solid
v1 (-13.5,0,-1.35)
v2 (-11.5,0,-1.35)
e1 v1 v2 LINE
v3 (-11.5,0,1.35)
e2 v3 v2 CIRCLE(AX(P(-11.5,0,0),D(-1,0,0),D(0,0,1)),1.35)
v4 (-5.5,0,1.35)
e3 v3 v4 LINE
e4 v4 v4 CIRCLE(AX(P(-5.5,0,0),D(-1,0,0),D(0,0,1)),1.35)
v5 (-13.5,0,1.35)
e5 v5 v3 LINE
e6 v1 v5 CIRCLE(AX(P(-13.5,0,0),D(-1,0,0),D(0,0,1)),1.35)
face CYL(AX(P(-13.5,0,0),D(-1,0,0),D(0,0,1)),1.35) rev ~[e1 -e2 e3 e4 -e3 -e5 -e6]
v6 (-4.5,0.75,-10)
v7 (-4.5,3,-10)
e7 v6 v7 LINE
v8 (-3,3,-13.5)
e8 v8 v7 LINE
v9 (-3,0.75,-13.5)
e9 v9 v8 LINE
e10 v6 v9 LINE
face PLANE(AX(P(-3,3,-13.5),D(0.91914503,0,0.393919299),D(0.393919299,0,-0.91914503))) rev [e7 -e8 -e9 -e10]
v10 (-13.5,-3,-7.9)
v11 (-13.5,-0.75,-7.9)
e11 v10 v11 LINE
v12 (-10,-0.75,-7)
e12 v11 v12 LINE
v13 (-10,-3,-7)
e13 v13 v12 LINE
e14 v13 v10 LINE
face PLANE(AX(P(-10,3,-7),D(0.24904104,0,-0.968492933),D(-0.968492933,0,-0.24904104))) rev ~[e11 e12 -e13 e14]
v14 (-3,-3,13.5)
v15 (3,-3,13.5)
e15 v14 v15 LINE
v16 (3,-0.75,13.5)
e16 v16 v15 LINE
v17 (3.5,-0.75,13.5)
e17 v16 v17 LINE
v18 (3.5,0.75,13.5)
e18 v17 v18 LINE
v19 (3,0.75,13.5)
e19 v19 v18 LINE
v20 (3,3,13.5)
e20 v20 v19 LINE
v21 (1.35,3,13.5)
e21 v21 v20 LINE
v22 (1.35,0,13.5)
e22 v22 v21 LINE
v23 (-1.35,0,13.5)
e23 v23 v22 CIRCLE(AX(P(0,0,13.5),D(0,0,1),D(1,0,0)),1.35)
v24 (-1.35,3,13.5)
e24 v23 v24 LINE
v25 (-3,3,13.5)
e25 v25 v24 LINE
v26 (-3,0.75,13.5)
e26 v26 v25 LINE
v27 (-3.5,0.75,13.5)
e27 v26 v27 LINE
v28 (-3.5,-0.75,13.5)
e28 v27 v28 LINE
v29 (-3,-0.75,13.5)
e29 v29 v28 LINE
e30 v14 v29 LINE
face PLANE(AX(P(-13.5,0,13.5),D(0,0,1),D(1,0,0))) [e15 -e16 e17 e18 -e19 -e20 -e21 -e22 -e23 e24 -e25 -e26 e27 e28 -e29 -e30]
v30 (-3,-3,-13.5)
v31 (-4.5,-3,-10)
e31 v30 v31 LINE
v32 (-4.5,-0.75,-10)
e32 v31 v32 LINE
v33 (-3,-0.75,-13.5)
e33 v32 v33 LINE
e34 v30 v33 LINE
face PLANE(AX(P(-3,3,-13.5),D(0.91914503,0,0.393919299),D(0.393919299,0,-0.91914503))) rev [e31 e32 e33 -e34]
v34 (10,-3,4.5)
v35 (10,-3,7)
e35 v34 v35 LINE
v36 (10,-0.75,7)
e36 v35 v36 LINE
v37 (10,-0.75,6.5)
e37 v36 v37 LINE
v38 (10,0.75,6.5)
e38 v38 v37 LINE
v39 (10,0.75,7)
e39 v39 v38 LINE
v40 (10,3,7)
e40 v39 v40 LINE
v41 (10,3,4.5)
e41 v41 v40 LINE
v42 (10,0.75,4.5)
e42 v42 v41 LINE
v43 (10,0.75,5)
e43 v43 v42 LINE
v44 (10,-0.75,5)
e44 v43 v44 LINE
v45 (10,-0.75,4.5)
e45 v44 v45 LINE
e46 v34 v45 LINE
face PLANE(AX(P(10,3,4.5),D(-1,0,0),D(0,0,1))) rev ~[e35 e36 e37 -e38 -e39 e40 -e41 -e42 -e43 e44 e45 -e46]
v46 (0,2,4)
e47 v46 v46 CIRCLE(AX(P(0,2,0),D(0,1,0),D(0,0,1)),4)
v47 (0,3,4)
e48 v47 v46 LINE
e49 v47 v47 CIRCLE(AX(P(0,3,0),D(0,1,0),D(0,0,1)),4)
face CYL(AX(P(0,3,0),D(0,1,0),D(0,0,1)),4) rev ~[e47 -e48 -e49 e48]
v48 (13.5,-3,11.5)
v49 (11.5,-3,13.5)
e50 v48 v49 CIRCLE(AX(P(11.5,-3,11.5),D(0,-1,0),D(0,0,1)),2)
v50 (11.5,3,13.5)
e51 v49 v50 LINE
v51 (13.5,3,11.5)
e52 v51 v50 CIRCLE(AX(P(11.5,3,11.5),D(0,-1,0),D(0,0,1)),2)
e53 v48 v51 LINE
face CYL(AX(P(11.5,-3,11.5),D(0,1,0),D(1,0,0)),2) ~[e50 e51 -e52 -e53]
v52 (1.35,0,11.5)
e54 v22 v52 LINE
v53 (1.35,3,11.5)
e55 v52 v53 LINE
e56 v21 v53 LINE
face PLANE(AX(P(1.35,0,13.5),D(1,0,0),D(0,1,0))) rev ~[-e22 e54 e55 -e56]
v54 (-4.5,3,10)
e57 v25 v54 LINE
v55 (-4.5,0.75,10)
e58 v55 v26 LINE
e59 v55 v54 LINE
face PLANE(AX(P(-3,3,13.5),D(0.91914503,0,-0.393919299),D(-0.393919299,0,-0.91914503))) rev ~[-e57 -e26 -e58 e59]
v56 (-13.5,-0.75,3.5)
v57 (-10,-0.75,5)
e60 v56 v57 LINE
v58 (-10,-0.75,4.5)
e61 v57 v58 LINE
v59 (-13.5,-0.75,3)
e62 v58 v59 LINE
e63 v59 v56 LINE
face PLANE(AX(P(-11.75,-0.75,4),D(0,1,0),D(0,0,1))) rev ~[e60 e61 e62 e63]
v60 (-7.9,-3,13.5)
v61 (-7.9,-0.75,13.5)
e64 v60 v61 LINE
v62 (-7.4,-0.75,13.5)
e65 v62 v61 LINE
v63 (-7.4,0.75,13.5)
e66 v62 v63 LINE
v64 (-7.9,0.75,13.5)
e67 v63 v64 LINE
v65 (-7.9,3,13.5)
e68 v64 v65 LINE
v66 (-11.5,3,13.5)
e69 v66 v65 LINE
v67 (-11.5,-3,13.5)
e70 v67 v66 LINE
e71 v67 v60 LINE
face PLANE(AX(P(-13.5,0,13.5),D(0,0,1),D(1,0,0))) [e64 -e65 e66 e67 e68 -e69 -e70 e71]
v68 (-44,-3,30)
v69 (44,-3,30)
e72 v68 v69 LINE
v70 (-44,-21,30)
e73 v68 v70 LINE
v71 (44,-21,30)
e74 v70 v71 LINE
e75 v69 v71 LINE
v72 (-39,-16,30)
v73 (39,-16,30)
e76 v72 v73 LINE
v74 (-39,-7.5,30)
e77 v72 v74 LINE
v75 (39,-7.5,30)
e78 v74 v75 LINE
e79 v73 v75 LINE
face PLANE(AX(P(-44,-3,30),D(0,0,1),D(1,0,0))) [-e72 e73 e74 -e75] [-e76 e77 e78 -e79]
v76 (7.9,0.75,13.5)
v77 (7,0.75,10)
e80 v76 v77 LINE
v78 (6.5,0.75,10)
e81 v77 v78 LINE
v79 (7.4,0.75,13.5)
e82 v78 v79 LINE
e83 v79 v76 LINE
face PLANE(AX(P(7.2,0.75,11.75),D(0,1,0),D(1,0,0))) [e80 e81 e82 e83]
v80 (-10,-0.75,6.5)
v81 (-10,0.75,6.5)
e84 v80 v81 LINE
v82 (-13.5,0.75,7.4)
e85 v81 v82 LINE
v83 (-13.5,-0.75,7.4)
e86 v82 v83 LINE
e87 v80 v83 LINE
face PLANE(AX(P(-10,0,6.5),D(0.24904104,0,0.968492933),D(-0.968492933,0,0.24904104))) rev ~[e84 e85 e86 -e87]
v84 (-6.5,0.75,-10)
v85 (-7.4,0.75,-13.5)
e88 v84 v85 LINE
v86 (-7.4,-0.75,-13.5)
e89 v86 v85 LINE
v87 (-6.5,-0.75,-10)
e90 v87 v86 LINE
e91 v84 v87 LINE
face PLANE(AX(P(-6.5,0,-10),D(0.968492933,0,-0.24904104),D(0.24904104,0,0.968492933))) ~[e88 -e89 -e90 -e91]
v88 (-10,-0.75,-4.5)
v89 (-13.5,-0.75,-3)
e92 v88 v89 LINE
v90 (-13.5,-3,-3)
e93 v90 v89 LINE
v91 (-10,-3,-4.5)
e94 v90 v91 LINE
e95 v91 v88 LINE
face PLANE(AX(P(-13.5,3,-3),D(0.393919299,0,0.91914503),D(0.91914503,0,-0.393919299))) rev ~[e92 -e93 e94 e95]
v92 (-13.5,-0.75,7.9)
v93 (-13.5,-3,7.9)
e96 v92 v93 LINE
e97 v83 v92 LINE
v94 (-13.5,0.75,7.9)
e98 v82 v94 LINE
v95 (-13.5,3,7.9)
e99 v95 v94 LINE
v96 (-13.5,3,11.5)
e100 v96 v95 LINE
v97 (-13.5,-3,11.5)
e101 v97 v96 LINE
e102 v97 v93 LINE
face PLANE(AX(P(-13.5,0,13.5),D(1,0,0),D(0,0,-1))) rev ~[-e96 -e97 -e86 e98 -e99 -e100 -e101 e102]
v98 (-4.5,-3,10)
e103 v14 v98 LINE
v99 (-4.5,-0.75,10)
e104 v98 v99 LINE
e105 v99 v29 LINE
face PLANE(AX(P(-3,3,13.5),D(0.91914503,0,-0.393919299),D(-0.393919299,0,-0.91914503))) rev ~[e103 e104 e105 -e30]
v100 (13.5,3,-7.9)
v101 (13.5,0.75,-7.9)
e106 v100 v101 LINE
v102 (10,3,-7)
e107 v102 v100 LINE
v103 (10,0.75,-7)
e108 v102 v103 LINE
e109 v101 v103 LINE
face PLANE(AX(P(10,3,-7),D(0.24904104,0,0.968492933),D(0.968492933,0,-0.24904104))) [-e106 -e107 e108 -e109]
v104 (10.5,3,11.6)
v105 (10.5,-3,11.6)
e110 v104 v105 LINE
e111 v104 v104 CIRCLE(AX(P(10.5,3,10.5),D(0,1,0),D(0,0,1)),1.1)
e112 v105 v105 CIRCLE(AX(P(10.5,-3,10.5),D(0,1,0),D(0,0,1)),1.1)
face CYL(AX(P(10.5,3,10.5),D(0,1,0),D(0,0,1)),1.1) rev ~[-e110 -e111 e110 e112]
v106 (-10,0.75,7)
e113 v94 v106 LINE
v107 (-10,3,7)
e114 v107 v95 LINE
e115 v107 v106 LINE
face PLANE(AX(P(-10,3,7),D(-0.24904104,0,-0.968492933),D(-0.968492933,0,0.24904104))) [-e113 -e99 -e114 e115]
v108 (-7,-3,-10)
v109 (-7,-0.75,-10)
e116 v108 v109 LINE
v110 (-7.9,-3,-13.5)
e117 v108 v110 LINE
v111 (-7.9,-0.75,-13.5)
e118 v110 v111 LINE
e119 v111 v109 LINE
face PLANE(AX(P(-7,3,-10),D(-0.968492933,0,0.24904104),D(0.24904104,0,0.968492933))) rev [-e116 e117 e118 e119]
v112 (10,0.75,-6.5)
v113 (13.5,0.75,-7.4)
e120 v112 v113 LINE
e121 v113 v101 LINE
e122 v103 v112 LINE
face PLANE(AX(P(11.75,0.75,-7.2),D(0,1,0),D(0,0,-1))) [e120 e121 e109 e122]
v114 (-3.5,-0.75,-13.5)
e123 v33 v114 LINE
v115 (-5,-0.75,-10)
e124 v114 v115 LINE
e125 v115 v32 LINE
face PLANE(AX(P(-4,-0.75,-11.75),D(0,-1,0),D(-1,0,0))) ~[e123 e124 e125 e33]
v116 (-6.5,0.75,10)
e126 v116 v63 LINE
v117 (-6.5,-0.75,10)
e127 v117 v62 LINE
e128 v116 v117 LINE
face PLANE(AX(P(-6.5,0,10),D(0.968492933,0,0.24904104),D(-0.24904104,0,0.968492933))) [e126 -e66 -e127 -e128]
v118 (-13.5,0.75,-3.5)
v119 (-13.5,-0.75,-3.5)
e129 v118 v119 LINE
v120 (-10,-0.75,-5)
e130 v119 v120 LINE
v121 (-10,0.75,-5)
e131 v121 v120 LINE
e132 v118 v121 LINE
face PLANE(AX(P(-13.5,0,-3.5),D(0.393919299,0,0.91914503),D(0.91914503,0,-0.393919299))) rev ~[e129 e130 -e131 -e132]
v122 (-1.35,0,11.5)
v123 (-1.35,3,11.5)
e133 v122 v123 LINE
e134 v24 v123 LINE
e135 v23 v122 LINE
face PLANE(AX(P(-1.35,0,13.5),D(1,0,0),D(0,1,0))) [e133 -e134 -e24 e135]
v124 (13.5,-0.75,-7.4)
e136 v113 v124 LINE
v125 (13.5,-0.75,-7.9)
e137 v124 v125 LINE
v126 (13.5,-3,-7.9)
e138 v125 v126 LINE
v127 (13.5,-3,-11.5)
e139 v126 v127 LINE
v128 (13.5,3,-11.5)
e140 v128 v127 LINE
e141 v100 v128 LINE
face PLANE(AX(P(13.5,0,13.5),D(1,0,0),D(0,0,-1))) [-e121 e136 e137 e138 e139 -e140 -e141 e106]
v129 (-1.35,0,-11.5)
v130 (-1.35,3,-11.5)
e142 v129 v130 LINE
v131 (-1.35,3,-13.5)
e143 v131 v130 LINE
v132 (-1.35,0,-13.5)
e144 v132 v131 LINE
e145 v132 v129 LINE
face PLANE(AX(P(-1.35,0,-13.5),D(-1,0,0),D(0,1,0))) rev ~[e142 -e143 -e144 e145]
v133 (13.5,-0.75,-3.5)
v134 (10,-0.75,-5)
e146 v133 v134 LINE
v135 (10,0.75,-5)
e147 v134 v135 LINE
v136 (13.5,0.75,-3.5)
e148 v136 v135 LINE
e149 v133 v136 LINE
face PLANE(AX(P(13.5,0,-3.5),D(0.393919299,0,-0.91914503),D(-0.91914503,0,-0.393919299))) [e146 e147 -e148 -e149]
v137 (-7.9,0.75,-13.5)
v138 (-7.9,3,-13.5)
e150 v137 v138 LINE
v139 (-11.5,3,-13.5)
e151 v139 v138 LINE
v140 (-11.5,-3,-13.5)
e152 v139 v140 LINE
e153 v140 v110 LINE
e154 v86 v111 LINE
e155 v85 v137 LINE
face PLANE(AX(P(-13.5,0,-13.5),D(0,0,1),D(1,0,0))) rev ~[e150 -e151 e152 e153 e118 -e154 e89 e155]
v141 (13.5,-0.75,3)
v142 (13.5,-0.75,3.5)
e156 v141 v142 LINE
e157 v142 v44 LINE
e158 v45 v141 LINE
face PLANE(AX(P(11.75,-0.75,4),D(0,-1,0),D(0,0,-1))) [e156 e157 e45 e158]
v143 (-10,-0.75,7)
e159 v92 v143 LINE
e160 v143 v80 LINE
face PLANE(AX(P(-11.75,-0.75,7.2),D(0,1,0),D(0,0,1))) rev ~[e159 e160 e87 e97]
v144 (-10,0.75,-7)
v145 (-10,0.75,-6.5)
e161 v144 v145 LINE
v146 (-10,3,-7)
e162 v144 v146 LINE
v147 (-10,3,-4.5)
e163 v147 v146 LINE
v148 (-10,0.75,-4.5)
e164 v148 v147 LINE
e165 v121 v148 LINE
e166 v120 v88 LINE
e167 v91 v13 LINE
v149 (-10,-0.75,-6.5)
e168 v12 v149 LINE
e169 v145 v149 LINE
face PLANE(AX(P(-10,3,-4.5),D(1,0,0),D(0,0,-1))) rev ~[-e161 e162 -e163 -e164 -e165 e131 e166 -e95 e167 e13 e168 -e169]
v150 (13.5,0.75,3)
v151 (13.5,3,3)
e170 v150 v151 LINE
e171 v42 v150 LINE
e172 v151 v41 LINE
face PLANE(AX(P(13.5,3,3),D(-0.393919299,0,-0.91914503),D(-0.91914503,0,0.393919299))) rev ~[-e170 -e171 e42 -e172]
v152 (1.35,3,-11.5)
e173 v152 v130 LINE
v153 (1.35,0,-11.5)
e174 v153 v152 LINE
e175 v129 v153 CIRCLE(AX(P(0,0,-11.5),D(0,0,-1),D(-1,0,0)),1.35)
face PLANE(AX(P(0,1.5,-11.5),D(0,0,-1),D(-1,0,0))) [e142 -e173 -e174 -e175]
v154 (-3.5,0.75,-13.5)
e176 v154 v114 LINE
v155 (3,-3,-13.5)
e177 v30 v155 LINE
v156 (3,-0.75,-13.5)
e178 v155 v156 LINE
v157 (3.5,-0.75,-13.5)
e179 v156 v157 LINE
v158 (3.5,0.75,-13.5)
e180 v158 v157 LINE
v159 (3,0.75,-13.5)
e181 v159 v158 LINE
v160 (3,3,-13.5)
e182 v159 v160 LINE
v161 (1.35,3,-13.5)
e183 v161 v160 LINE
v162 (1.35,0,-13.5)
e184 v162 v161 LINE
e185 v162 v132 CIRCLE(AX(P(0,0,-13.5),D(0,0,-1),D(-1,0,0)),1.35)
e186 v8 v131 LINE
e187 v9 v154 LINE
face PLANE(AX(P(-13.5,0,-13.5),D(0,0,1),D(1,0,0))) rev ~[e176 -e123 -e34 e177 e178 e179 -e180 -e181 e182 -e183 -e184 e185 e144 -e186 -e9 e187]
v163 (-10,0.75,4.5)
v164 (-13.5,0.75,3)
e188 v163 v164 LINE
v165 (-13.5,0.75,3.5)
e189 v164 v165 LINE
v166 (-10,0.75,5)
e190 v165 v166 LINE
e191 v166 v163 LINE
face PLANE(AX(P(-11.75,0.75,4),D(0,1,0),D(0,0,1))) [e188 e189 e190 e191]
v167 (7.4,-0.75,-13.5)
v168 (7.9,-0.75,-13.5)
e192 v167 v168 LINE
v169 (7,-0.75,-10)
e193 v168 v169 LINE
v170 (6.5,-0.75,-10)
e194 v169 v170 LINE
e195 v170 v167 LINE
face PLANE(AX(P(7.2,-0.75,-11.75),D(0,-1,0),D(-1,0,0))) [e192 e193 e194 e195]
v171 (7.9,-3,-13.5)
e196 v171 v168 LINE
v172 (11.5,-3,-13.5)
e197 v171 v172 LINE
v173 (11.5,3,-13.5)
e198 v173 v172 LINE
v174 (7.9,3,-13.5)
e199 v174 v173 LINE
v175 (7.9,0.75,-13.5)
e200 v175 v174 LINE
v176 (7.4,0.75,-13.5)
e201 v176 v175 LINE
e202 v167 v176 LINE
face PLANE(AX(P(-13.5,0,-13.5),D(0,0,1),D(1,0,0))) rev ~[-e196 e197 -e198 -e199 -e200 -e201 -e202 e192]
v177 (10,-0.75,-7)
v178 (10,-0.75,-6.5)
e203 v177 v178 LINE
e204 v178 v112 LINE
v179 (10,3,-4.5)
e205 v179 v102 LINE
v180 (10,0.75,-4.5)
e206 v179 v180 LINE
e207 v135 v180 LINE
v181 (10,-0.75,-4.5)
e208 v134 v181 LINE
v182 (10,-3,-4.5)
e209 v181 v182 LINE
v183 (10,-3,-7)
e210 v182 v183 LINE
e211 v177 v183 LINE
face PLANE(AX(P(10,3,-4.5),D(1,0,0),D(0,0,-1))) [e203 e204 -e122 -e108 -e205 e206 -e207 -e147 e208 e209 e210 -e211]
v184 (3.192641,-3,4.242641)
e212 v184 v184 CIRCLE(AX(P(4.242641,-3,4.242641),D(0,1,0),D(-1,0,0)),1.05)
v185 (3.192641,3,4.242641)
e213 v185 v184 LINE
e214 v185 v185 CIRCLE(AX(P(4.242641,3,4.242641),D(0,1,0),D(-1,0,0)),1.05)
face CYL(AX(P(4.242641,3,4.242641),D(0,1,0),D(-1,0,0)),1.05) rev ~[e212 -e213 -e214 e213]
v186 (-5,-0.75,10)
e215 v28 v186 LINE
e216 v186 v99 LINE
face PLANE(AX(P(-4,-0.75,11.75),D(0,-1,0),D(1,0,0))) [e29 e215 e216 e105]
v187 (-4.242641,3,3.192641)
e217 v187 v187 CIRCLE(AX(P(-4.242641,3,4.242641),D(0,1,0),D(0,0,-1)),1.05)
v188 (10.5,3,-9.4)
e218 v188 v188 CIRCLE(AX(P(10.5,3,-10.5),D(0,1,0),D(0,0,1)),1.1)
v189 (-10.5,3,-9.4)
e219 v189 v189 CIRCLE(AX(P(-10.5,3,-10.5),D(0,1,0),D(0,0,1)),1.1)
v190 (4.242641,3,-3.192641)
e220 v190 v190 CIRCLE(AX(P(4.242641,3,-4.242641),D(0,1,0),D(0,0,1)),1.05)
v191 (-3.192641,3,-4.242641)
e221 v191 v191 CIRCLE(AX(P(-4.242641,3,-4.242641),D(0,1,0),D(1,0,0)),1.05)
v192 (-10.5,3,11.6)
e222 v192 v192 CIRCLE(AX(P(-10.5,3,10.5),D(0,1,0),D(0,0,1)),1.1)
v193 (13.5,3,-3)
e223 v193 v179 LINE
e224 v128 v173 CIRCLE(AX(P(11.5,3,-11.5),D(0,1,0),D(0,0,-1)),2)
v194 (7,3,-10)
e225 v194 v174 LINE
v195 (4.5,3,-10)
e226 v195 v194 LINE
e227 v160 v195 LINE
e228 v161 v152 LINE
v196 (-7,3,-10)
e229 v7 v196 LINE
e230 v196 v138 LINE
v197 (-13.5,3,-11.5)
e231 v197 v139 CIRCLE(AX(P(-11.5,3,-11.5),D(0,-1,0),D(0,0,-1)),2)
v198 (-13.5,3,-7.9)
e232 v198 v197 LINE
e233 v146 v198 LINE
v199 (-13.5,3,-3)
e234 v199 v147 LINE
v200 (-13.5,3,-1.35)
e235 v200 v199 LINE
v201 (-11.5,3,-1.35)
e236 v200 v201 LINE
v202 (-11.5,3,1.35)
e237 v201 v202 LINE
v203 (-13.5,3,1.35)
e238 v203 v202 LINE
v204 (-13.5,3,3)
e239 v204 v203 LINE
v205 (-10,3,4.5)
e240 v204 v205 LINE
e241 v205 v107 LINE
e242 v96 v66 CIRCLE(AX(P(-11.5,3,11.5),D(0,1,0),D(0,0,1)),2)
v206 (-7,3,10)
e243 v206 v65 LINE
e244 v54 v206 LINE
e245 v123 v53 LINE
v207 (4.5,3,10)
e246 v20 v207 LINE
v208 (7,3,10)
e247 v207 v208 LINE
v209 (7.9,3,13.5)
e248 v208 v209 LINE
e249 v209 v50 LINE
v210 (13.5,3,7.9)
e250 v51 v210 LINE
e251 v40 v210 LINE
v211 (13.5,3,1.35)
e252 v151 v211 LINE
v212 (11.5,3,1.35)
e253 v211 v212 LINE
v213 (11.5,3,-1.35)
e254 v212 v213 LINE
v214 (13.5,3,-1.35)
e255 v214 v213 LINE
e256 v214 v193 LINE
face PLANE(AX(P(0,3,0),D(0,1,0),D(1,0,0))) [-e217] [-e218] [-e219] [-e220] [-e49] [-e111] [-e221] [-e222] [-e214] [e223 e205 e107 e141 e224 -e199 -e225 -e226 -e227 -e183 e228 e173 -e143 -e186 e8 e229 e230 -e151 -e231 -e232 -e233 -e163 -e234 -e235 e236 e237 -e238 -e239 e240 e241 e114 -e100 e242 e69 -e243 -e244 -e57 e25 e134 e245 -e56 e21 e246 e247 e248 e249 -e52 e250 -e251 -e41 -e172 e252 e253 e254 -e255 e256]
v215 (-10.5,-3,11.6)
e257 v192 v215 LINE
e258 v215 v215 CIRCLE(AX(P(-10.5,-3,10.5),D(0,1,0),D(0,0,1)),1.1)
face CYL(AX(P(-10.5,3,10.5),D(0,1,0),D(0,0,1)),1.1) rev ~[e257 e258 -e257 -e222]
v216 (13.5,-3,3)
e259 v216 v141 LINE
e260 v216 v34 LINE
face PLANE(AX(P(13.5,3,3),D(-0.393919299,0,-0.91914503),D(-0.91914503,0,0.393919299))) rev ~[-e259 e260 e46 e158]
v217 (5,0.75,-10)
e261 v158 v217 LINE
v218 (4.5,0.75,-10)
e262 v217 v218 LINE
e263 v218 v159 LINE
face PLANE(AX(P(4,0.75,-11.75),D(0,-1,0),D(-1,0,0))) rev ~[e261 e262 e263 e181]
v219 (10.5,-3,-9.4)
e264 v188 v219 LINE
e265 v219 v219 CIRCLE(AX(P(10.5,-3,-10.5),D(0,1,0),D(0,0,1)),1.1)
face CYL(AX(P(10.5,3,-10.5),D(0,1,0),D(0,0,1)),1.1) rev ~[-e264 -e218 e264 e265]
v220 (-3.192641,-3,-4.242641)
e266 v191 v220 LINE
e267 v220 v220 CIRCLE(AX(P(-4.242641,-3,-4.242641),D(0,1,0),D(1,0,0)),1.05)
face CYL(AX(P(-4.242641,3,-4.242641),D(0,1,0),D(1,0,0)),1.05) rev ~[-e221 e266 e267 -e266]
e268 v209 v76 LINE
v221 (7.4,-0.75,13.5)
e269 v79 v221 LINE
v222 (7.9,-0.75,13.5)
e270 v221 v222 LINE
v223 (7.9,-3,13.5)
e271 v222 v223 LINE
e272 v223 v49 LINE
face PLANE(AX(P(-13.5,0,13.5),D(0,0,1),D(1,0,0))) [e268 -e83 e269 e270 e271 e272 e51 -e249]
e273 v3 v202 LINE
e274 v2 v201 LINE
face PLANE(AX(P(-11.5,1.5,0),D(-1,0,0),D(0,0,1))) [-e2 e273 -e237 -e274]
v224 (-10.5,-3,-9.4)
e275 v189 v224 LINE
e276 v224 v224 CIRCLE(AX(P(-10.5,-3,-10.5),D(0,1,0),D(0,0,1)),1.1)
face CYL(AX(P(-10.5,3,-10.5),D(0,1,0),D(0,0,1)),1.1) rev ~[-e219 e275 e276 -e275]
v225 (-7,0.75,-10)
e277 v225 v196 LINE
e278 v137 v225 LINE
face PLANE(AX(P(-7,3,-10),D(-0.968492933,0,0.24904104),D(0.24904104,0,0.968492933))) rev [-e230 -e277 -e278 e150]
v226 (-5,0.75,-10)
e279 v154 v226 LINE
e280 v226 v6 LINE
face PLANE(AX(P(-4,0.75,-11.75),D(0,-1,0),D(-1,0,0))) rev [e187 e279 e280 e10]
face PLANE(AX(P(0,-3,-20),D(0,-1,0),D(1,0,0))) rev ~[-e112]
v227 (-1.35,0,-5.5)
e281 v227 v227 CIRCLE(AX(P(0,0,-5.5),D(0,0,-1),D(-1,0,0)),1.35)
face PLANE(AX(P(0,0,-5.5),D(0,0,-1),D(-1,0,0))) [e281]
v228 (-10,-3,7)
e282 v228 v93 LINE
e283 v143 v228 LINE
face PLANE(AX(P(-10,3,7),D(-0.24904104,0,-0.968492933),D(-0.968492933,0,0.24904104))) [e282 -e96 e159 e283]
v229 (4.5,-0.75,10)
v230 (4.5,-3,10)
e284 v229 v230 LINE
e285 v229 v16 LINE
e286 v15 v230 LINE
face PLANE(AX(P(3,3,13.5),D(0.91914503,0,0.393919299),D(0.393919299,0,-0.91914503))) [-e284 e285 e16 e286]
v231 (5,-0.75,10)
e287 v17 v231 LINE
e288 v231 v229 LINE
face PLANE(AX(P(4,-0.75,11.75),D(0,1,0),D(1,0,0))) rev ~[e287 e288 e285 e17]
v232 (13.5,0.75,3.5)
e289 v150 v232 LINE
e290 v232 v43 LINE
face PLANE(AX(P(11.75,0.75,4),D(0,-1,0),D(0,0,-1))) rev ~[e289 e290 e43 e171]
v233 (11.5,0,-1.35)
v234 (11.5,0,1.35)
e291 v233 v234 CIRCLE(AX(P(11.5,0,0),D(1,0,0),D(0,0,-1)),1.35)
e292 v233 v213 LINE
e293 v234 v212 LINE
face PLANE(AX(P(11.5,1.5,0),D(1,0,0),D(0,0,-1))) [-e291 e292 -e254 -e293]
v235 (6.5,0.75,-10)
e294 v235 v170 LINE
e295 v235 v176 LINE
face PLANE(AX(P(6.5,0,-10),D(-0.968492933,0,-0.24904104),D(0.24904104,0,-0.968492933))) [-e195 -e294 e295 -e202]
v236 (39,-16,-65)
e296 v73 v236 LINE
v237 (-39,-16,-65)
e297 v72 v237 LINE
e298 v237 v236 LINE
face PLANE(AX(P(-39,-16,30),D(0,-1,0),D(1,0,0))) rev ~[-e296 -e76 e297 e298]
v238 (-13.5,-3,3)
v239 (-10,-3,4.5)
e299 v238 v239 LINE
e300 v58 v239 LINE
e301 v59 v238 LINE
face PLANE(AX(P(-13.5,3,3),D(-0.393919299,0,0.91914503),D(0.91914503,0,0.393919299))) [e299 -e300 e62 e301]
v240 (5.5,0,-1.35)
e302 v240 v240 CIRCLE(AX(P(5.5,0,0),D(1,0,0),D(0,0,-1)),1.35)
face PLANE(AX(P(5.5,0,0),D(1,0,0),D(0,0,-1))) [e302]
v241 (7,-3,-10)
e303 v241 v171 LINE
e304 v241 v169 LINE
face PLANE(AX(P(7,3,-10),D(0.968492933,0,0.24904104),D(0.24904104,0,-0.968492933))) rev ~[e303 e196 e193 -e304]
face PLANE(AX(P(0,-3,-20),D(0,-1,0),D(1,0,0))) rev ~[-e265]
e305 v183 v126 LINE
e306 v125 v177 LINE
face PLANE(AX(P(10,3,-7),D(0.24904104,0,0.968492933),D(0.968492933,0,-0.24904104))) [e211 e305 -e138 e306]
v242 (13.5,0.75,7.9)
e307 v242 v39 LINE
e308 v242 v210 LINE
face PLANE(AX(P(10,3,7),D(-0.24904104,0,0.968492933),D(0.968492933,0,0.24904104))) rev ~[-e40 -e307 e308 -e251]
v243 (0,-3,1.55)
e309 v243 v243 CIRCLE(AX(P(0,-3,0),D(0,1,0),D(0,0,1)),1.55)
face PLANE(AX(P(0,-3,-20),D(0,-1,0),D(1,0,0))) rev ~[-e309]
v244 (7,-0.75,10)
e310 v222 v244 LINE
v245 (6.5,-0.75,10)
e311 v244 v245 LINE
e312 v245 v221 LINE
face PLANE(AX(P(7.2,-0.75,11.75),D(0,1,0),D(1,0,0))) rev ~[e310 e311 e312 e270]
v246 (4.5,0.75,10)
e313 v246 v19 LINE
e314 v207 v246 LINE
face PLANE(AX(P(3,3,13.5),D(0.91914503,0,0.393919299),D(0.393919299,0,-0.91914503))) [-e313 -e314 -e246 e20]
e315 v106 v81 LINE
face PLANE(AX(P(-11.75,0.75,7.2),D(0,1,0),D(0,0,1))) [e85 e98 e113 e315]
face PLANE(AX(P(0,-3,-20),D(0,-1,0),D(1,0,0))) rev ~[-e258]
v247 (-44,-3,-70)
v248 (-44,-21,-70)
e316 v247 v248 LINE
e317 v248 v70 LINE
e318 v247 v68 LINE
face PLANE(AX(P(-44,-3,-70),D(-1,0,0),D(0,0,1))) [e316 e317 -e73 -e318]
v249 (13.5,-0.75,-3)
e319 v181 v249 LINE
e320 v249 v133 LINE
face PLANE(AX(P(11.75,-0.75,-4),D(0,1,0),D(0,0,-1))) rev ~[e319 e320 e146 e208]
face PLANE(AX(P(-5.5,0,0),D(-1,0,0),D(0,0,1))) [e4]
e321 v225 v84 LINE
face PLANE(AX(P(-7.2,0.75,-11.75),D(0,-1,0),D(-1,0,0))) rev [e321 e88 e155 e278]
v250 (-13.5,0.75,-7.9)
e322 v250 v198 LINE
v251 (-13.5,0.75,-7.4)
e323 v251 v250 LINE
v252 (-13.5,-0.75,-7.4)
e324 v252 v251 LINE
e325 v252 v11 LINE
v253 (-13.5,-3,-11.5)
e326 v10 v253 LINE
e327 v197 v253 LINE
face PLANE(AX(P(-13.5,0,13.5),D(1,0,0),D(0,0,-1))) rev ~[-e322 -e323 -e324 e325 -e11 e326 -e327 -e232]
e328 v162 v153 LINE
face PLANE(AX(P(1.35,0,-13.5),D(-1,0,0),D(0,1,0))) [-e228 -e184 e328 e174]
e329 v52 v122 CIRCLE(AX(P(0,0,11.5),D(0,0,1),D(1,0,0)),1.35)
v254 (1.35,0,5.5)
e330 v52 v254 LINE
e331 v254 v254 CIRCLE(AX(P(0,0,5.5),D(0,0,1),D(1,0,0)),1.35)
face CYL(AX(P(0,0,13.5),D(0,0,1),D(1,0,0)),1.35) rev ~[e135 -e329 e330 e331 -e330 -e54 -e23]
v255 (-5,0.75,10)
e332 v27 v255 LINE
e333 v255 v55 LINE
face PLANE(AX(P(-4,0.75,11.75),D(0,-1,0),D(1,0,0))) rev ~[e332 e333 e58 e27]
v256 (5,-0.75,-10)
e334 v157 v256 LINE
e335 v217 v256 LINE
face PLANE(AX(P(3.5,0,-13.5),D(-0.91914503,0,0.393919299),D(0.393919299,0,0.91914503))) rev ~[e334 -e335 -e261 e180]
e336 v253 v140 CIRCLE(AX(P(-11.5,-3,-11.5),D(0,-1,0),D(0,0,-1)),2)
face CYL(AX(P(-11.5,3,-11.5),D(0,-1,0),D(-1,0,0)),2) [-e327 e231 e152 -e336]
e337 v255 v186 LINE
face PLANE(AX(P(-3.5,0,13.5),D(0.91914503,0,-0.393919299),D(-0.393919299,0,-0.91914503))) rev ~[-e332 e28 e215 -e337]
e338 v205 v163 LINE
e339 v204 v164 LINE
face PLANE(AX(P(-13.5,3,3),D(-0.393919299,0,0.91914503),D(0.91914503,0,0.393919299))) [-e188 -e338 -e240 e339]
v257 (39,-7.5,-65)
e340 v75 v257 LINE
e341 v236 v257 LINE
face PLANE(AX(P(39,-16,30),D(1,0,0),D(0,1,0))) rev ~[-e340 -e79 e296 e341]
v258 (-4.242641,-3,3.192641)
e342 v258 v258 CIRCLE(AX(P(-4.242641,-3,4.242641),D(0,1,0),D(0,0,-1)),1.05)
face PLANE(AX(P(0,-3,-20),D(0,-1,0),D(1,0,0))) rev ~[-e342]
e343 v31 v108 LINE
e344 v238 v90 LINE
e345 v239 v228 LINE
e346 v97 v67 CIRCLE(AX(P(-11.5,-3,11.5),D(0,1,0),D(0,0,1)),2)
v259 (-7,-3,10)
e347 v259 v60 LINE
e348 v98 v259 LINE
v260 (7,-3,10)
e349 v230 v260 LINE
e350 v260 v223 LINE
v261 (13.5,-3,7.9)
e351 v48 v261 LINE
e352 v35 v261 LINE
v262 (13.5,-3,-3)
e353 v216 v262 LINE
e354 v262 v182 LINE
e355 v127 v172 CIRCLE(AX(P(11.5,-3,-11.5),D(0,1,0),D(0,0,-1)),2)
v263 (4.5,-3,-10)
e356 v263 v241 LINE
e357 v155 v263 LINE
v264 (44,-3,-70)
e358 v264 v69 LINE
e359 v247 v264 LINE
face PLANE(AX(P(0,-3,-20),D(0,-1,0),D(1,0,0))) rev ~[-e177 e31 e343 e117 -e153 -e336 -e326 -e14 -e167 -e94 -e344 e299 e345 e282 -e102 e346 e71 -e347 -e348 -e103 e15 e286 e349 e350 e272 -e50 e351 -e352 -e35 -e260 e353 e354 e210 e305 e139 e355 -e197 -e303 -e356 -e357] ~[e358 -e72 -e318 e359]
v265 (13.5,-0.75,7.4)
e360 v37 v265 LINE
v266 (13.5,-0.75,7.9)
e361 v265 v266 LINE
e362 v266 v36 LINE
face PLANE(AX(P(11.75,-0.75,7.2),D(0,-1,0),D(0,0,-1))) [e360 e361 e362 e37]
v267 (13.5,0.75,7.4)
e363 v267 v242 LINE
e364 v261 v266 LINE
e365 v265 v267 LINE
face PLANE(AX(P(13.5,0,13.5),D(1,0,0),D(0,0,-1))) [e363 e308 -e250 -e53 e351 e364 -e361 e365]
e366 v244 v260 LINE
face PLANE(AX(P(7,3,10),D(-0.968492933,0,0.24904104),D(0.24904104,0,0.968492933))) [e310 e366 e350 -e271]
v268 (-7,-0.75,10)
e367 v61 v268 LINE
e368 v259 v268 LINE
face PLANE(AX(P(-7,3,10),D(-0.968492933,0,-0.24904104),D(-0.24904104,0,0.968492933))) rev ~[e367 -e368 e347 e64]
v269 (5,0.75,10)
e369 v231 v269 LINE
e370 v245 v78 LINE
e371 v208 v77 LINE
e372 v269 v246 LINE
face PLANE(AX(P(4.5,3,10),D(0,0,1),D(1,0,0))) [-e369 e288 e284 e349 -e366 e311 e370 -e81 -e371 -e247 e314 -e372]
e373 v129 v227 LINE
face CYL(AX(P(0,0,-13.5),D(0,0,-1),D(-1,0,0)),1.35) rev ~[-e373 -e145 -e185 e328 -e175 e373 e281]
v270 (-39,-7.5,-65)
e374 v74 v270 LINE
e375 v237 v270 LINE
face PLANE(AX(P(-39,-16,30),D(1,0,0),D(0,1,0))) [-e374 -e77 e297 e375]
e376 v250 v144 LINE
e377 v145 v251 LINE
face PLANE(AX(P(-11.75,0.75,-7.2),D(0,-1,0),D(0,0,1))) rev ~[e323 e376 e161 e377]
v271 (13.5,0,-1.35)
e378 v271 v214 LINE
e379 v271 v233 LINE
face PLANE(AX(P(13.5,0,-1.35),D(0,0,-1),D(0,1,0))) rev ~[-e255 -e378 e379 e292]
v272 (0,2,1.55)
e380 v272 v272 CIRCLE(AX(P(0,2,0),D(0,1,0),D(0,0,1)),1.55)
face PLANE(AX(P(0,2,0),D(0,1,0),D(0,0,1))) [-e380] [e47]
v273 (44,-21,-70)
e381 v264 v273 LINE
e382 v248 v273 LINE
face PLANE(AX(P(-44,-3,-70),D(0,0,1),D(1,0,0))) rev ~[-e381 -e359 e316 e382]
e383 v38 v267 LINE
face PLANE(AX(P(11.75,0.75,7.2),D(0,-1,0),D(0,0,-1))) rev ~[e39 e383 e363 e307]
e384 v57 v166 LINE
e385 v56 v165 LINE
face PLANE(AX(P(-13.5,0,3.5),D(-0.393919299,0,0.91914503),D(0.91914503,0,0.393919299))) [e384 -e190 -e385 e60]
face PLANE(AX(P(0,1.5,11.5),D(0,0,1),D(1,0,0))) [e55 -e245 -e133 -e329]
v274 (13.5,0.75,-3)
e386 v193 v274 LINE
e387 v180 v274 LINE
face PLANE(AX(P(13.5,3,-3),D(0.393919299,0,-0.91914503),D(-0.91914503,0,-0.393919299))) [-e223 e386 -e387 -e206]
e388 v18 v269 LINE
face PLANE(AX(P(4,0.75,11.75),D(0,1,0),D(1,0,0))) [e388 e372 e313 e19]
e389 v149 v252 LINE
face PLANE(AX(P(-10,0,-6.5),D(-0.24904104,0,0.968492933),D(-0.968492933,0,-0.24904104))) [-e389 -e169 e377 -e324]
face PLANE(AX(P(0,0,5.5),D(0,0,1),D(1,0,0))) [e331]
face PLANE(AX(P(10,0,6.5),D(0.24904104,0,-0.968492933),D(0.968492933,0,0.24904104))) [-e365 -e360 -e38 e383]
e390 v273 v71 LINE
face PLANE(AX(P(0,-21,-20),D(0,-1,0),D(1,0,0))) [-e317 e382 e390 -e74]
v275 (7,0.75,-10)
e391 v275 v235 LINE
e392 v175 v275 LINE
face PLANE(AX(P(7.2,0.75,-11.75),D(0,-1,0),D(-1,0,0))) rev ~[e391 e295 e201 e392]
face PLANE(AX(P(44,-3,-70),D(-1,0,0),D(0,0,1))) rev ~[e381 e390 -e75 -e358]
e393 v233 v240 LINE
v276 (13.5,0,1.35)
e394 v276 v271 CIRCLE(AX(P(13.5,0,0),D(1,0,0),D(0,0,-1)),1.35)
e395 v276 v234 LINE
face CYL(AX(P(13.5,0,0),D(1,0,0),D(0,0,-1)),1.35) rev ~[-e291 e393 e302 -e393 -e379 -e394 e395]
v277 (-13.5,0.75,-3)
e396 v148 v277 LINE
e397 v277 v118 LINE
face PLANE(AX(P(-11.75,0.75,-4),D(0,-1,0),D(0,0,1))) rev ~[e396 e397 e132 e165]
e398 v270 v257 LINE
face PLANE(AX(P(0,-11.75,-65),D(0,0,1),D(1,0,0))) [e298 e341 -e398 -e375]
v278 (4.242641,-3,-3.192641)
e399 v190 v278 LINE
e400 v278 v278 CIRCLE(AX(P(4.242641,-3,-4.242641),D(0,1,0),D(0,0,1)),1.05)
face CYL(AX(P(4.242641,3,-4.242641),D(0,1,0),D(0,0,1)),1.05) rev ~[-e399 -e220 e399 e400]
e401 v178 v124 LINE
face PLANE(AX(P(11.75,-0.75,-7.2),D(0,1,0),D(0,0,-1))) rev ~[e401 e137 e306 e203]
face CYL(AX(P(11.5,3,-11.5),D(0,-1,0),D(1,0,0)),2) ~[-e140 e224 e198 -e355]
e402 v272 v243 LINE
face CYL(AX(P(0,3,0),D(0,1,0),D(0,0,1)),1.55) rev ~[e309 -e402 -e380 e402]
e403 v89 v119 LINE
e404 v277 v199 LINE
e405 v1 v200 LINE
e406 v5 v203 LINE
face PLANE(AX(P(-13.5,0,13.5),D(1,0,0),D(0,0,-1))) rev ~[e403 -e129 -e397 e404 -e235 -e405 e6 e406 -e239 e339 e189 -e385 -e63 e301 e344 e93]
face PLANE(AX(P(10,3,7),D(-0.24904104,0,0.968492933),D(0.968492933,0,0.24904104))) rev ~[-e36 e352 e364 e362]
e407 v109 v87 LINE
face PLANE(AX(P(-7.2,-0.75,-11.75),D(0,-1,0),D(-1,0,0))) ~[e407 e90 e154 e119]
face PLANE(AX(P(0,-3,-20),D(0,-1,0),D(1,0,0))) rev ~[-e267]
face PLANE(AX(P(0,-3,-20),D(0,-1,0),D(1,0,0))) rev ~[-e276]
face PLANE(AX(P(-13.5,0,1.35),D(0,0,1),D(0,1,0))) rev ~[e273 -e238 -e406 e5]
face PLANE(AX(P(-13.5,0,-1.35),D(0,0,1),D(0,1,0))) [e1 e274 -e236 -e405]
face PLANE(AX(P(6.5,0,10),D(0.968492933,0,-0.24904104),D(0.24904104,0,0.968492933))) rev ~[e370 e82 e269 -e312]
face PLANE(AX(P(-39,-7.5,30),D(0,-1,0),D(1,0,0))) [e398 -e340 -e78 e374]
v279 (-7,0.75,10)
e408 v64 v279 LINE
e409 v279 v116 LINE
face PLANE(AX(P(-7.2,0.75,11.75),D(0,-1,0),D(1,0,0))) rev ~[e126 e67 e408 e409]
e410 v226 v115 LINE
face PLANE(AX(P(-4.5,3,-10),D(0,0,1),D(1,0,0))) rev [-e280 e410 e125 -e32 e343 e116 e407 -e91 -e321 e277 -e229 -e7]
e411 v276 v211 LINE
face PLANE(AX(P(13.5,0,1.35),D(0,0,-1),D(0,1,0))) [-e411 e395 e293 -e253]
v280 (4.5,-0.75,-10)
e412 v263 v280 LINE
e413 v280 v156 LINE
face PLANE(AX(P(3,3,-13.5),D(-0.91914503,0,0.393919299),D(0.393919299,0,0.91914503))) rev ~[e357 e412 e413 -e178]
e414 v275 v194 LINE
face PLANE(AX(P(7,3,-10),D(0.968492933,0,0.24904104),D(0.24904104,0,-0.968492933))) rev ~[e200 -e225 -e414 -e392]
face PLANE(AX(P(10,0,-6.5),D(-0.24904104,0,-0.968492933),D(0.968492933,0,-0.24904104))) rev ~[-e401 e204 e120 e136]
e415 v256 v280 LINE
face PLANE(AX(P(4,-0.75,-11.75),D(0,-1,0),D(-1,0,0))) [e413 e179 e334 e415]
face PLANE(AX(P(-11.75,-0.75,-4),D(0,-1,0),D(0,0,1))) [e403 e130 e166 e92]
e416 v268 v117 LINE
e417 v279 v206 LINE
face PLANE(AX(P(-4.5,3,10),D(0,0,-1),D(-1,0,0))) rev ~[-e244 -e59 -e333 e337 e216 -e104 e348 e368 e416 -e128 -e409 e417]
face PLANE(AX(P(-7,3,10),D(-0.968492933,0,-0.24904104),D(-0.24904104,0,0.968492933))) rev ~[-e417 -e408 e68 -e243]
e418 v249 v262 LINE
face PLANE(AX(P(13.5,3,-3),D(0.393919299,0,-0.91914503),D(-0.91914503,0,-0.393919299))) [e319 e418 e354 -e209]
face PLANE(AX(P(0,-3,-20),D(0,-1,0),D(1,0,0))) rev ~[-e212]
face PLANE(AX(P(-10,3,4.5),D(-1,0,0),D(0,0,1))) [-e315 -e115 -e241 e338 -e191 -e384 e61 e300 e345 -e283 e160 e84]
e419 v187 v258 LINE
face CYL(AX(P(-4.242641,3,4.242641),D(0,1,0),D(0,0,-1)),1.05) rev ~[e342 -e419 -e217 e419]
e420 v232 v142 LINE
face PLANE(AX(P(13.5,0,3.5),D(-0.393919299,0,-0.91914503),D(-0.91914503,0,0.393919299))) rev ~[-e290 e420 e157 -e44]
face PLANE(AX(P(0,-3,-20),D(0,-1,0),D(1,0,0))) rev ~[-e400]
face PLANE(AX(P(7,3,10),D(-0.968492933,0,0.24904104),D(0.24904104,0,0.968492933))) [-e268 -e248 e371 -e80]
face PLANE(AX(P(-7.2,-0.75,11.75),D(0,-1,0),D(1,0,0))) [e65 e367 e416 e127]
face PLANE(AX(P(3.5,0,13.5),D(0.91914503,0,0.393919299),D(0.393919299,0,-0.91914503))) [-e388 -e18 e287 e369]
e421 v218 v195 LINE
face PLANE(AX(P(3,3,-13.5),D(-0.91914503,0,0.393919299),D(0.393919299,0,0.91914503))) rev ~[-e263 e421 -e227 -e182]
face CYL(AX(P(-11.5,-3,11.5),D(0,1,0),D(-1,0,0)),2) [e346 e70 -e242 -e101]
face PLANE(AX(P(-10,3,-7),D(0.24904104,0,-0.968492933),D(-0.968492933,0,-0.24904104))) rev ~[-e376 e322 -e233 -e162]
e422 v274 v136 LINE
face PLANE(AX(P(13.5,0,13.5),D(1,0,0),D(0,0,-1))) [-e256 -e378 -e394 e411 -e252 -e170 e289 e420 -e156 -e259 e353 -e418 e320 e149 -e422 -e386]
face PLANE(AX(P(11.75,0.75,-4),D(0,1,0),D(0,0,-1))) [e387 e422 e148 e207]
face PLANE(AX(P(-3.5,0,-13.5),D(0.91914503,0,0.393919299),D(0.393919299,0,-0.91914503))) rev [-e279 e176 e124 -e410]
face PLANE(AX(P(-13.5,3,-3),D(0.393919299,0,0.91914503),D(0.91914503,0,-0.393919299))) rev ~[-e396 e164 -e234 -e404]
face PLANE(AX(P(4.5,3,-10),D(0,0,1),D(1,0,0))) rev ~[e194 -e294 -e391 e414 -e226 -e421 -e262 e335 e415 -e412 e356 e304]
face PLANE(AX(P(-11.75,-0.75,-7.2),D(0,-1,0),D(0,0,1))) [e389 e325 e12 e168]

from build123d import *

# Parameters (mm, degrees)
SKETCH_3_W                      = 27
SKETCH_3_H                      = 27
EXTRUDE_1_DEPTH                 = 3
FILLET_1_R                      = 2
SKETCH_4_R                      = 1.1
CUT_EXTRUDE_1_DEPTH             = 6
SKETCH_5_R                      = 1.55
CUT_EXTRUDE_2_DEPTH             = 6
SKETCH_6_R                      = 1.05
CUT_EXTRUDE_3_DEPTH             = 6
PATTERN_CIRCULAR_1_COUNT        = 4
SKETCH_7_R                      = 4
CUT_EXTRUDE_4_DEPTH             = 1
CUT_EXTRUDE_8_DEPTH             = 21.012496096
PATTERN_CIRCULAR_2_COUNT        = 4
PATTERN_CIRCULAR_2_COPY_1_DEPTH = 21.012496096
PATTERN_CIRCULAR_2_COPY_2_DEPTH = 21.012496096
PATTERN_CIRCULAR_2_COPY_3_DEPTH = 21.012496096
SKETCH_12_R                     = 1.35
CUT_EXTRUDE_9_DEPTH             = 8
PATTERN_CIRCULAR_3_COUNT        = 4
EXTRUDE_2_DEPTH                 = 0.75
PATTERN_CIRCULAR_4_COUNT        = 4
PATTERN_CIRCULAR_4_COPY_1_DEPTH = 0.75
PATTERN_CIRCULAR_4_COPY_2_DEPTH = 0.75
PATTERN_CIRCULAR_4_COPY_3_DEPTH = 0.75
SKETCH_22_W                     = 2.7
SKETCH_22_H                     = 3
CUT_EXTRUDE_15_DEPTH            = 2
PATTERN_CIRCULAR_11_COUNT       = 4
SKETCH_31_W                     = 88
SKETCH_31_H                     = 100
EXTRUDE_4_DEPTH                 = 18
SKETCH_32_W                     = 78
SKETCH_32_H                     = 8.5
CUT_EXTRUDE_17_DEPTH            = 95


with BuildPart() as part:
    # ｽｹｯﾁ3 → ﾎﾞｽ - 押し出し1 (new, symmetric)
    with BuildSketch(Plane(origin=(0, 0, 0), x_dir=(1, 0, 0), z_dir=(0, 1, 0))):
        Rectangle(SKETCH_3_W, SKETCH_3_H)
    extrude(amount=EXTRUDE_1_DEPTH, both=True)

    # ﾌｨﾚｯﾄ1
    fillet_1_edges = [part.edges().sort_by_distance(p)[0] for p in [
        (13.5, 0, 13.5),
        (-13.5, 0, 13.5),
        (-13.5, 0, -13.5),
        (13.5, 0, -13.5),
    ]]
    fillet(fillet_1_edges, radius=FILLET_1_R)

    # ｽｹｯﾁ4 → ｶｯﾄ - 押し出し1 (cut)
    with BuildSketch(Plane(origin=(0, 3, 0), x_dir=(1, 0, 0), z_dir=(0, 1, 0))):
        with Locations(Location((-10.5, 10.5, 0), (0, 0, 270))):
            Circle(SKETCH_4_R)
        with Locations(Location((10.5, 10.5, 0), (0, 0, 270))):
            Circle(SKETCH_4_R)
        with Locations(Location((-10.5, -10.5, 0), (0, 0, 270))):
            Circle(SKETCH_4_R)
        with Locations(Location((10.5, -10.5, 0), (0, 0, 270))):
            Circle(SKETCH_4_R)
    extrude(amount=-CUT_EXTRUDE_1_DEPTH, mode=Mode.SUBTRACT)

    # ｽｹｯﾁ5 → ｶｯﾄ - 押し出し2 (cut)
    with BuildSketch(Plane(origin=(0, 3, 0), x_dir=(1, 0, 0), z_dir=(0, 1, 0))):
        with Locations(Location((0, 0, 0), (0, 0, 270))):
            Circle(SKETCH_5_R)
    extrude(amount=-CUT_EXTRUDE_2_DEPTH, mode=Mode.SUBTRACT)

    # ｽｹｯﾁ6 → ｶｯﾄ - 押し出し3 (cut)
    with BuildSketch(Plane(origin=(0, 3, 0), x_dir=(1, 0, 0), z_dir=(0, 1, 0))):
        with Locations(Location((4.242640687, 4.242640687, 0), (0, 0, 270))):
            Circle(SKETCH_6_R)
    cut_extrude_3 = extrude(amount=-CUT_EXTRUDE_3_DEPTH, mode=Mode.SUBTRACT)

    # 円形ﾊﾟﾀｰﾝ1: ｶｯﾄ - 押し出し3 ×4 about axis
    pattern_circular_1_axis = Axis((0, 0, 0), (0, 1, 0))
    for i in range(1, PATTERN_CIRCULAR_1_COUNT):
        add(cut_extrude_3.rotate(pattern_circular_1_axis, i * 360 / PATTERN_CIRCULAR_1_COUNT), mode=Mode.SUBTRACT)

    # ｽｹｯﾁ7 → ｶｯﾄ - 押し出し4 (cut)
    with BuildSketch(Plane(origin=(0, 3, 0), x_dir=(1, 0, 0), z_dir=(0, 1, 0))):
        with Locations(Location((0, 0, 0), (0, 0, 270))):
            Circle(SKETCH_7_R)
    extrude(amount=-CUT_EXTRUDE_4_DEPTH, mode=Mode.SUBTRACT)

    # ｽｹｯﾁ11 → ｶｯﾄ - 押し出し8 (cut, symmetric)
    with BuildSketch(Plane(origin=(0, 3, 0), x_dir=(1, 0, 0), z_dir=(0, 1, 0))):
        Polygon((-28.082033535, 86.024744916), (3, 13.5), (4.5, 10), (7, 10), (7.9, 13.5), (27.55047658, 89.918520033), (16.532211377, 247.342544779), (-39.100298738, 243.448769662), align=None)
    cut_extrude_8 = extrude(amount=CUT_EXTRUDE_8_DEPTH, both=True, mode=Mode.SUBTRACT)

    # ﾐﾗｰ1: ｶｯﾄ - 押し出し8 across plane
    add(cut_extrude_8.mirror(Plane(origin=(0, 0, 0), x_dir=(0, 0, 1), z_dir=(1, 0, 0))), mode=Mode.SUBTRACT)

    # 円形ﾊﾟﾀｰﾝ2: ｶｯﾄ - 押し出し8 ×4 about axis
    pattern_circular_2_axis = Axis((0, 0, 0), (0, 1, 0))
    for i in range(1, PATTERN_CIRCULAR_2_COUNT):
        add(cut_extrude_8.rotate(pattern_circular_2_axis, i * 360 / PATTERN_CIRCULAR_2_COUNT), mode=Mode.SUBTRACT)

    # 円形ﾊﾟﾀｰﾝ2 copy 1 sketch → 円形ﾊﾟﾀｰﾝ2 copy 1 (cut, symmetric)
    with BuildSketch(Plane.ZX.offset(3)):
        Polygon((-28.082033535, -86.024744916), (3, -13.5), (4.5, -10), (7, -10), (7.9, -13.5), (27.55047658, -89.918520033), (16.532211377, -247.342544779), (-39.100298738, -243.448769662), align=None)
    extrude(amount=PATTERN_CIRCULAR_2_COPY_1_DEPTH, both=True, mode=Mode.SUBTRACT)

    # 円形ﾊﾟﾀｰﾝ2 copy 2 sketch → 円形ﾊﾟﾀｰﾝ2 copy 2 (cut, symmetric)
    with BuildSketch(Plane(origin=(0, 3, 0), x_dir=(1, 0, 0), z_dir=(0, 1, 0))):
        Polygon((-28.082033535, -86.024744916), (3, -13.5), (4.5, -10), (7, -10), (7.9, -13.5), (27.55047658, -89.918520033), (16.532211377, -247.342544779), (-39.100298738, -243.448769662), align=None)
    extrude(amount=PATTERN_CIRCULAR_2_COPY_2_DEPTH, both=True, mode=Mode.SUBTRACT)

    # 円形ﾊﾟﾀｰﾝ2 copy 3 sketch → 円形ﾊﾟﾀｰﾝ2 copy 3 (cut, symmetric)
    with BuildSketch(Plane(origin=(0, 3, 0), x_dir=(0, 0, -1), z_dir=(0, 1, 0))):
        Polygon((-28.082033535, -86.024744916), (3, -13.5), (4.5, -10), (7, -10), (7.9, -13.5), (27.55047658, -89.918520033), (16.532211377, -247.342544779), (-39.100298738, -243.448769662), align=None)
    extrude(amount=PATTERN_CIRCULAR_2_COPY_3_DEPTH, both=True, mode=Mode.SUBTRACT)

    # ｽｹｯﾁ12 → ｶｯﾄ - 押し出し9 (cut)
    with BuildSketch(Plane.XY.offset(13.5)):
        Circle(SKETCH_12_R)
    cut_extrude_9 = extrude(amount=-CUT_EXTRUDE_9_DEPTH, mode=Mode.SUBTRACT)

    # 円形ﾊﾟﾀｰﾝ3: ｶｯﾄ - 押し出し9 ×4 about axis
    pattern_circular_3_axis = Axis((0, 0, 0), (0, 1, 0))
    for i in range(1, PATTERN_CIRCULAR_3_COUNT):
        add(cut_extrude_9.rotate(pattern_circular_3_axis, i * 360 / PATTERN_CIRCULAR_3_COUNT), mode=Mode.SUBTRACT)

    # ｽｹｯﾁ13 → ﾎﾞｽ - 押し出し2 (add, symmetric)
    with BuildSketch(Plane(origin=(0, 0, 0), x_dir=(1, 0, 0), z_dir=(0, 1, 0))):
        Polygon((7.9, 13.5), (7, 10), (6.5, 10), (7.4, 13.5), align=None)
        Polygon((3, 13.5), (3.5, 13.5), (5, 10), (4.5, 10), align=None)
    extrude_2 = extrude(amount=EXTRUDE_2_DEPTH, both=True)

    # ﾐﾗｰ2: ﾎﾞｽ - 押し出し2 across plane
    add(extrude_2.mirror(Plane(origin=(0, 0, 0), x_dir=(0, 0, 1), z_dir=(1, 0, 0))))

    # 円形ﾊﾟﾀｰﾝ4: ﾎﾞｽ - 押し出し2 ×4 about axis
    pattern_circular_4_axis = Axis((0, 0, 0), (0, 1, 0))
    for i in range(1, PATTERN_CIRCULAR_4_COUNT):
        add(extrude_2.rotate(pattern_circular_4_axis, i * 360 / PATTERN_CIRCULAR_4_COUNT))

    # 円形ﾊﾟﾀｰﾝ4 copy 1 sketch → 円形ﾊﾟﾀｰﾝ4 copy 1 (add, symmetric)
    with BuildSketch(Plane.ZX):
        Polygon((7.9, -13.5), (7, -10), (6.5, -10), (7.4, -13.5), align=None)
        Polygon((3, -13.5), (3.5, -13.5), (5, -10), (4.5, -10), align=None)
    extrude(amount=PATTERN_CIRCULAR_4_COPY_1_DEPTH, both=True)

    # 円形ﾊﾟﾀｰﾝ4 copy 2 sketch → 円形ﾊﾟﾀｰﾝ4 copy 2 (add, symmetric)
    with BuildSketch(Plane(origin=(0, 0, 0), x_dir=(1, 0, 0), z_dir=(0, 1, 0))):
        Polygon((7.9, -13.5), (7, -10), (6.5, -10), (7.4, -13.5), align=None)
        Polygon((3, -13.5), (3.5, -13.5), (5, -10), (4.5, -10), align=None)
    extrude(amount=PATTERN_CIRCULAR_4_COPY_2_DEPTH, both=True)

    # 円形ﾊﾟﾀｰﾝ4 copy 3 sketch → 円形ﾊﾟﾀｰﾝ4 copy 3 (add, symmetric)
    with BuildSketch(Plane(origin=(0, 0, 0), x_dir=(0, 0, -1), z_dir=(0, 1, 0))):
        Polygon((7.9, -13.5), (7, -10), (6.5, -10), (7.4, -13.5), align=None)
        Polygon((3, -13.5), (3.5, -13.5), (5, -10), (4.5, -10), align=None)
    extrude(amount=PATTERN_CIRCULAR_4_COPY_3_DEPTH, both=True)

    # ｽｹｯﾁ22 → ｶｯﾄ - 押し出し15 (cut)
    with BuildSketch(Plane.XY.offset(13.5)):
        with Locations((0, 1.5)):
            Rectangle(SKETCH_22_W, SKETCH_22_H)
    cut_extrude_15 = extrude(amount=-CUT_EXTRUDE_15_DEPTH, mode=Mode.SUBTRACT)

    # 円形ﾊﾟﾀｰﾝ11: ｶｯﾄ - 押し出し15 ×4 about axis
    pattern_circular_11_axis = Axis((0, 0, 0), (0, 1, 0))
    for i in range(1, PATTERN_CIRCULAR_11_COUNT):
        add(cut_extrude_15.rotate(pattern_circular_11_axis, i * 360 / PATTERN_CIRCULAR_11_COUNT), mode=Mode.SUBTRACT)

    # ｽｹｯﾁ31 → ﾎﾞｽ - 押し出し4 (add)
    with BuildSketch(Plane.XZ.offset(3)):
        with Locations((0, -20)):
            Rectangle(SKETCH_31_W, SKETCH_31_H)
    extrude(amount=EXTRUDE_4_DEPTH)

    # ｽｹｯﾁ32 → ｶｯﾄ - 押し出し17 (cut)
    with BuildSketch(Plane.XY.offset(30)):
        with Locations((0, -11.75)):
            Rectangle(SKETCH_32_W, SKETCH_32_H)
    extrude(amount=-CUT_EXTRUDE_17_DEPTH, mode=Mode.SUBTRACT)


solid = part.part
